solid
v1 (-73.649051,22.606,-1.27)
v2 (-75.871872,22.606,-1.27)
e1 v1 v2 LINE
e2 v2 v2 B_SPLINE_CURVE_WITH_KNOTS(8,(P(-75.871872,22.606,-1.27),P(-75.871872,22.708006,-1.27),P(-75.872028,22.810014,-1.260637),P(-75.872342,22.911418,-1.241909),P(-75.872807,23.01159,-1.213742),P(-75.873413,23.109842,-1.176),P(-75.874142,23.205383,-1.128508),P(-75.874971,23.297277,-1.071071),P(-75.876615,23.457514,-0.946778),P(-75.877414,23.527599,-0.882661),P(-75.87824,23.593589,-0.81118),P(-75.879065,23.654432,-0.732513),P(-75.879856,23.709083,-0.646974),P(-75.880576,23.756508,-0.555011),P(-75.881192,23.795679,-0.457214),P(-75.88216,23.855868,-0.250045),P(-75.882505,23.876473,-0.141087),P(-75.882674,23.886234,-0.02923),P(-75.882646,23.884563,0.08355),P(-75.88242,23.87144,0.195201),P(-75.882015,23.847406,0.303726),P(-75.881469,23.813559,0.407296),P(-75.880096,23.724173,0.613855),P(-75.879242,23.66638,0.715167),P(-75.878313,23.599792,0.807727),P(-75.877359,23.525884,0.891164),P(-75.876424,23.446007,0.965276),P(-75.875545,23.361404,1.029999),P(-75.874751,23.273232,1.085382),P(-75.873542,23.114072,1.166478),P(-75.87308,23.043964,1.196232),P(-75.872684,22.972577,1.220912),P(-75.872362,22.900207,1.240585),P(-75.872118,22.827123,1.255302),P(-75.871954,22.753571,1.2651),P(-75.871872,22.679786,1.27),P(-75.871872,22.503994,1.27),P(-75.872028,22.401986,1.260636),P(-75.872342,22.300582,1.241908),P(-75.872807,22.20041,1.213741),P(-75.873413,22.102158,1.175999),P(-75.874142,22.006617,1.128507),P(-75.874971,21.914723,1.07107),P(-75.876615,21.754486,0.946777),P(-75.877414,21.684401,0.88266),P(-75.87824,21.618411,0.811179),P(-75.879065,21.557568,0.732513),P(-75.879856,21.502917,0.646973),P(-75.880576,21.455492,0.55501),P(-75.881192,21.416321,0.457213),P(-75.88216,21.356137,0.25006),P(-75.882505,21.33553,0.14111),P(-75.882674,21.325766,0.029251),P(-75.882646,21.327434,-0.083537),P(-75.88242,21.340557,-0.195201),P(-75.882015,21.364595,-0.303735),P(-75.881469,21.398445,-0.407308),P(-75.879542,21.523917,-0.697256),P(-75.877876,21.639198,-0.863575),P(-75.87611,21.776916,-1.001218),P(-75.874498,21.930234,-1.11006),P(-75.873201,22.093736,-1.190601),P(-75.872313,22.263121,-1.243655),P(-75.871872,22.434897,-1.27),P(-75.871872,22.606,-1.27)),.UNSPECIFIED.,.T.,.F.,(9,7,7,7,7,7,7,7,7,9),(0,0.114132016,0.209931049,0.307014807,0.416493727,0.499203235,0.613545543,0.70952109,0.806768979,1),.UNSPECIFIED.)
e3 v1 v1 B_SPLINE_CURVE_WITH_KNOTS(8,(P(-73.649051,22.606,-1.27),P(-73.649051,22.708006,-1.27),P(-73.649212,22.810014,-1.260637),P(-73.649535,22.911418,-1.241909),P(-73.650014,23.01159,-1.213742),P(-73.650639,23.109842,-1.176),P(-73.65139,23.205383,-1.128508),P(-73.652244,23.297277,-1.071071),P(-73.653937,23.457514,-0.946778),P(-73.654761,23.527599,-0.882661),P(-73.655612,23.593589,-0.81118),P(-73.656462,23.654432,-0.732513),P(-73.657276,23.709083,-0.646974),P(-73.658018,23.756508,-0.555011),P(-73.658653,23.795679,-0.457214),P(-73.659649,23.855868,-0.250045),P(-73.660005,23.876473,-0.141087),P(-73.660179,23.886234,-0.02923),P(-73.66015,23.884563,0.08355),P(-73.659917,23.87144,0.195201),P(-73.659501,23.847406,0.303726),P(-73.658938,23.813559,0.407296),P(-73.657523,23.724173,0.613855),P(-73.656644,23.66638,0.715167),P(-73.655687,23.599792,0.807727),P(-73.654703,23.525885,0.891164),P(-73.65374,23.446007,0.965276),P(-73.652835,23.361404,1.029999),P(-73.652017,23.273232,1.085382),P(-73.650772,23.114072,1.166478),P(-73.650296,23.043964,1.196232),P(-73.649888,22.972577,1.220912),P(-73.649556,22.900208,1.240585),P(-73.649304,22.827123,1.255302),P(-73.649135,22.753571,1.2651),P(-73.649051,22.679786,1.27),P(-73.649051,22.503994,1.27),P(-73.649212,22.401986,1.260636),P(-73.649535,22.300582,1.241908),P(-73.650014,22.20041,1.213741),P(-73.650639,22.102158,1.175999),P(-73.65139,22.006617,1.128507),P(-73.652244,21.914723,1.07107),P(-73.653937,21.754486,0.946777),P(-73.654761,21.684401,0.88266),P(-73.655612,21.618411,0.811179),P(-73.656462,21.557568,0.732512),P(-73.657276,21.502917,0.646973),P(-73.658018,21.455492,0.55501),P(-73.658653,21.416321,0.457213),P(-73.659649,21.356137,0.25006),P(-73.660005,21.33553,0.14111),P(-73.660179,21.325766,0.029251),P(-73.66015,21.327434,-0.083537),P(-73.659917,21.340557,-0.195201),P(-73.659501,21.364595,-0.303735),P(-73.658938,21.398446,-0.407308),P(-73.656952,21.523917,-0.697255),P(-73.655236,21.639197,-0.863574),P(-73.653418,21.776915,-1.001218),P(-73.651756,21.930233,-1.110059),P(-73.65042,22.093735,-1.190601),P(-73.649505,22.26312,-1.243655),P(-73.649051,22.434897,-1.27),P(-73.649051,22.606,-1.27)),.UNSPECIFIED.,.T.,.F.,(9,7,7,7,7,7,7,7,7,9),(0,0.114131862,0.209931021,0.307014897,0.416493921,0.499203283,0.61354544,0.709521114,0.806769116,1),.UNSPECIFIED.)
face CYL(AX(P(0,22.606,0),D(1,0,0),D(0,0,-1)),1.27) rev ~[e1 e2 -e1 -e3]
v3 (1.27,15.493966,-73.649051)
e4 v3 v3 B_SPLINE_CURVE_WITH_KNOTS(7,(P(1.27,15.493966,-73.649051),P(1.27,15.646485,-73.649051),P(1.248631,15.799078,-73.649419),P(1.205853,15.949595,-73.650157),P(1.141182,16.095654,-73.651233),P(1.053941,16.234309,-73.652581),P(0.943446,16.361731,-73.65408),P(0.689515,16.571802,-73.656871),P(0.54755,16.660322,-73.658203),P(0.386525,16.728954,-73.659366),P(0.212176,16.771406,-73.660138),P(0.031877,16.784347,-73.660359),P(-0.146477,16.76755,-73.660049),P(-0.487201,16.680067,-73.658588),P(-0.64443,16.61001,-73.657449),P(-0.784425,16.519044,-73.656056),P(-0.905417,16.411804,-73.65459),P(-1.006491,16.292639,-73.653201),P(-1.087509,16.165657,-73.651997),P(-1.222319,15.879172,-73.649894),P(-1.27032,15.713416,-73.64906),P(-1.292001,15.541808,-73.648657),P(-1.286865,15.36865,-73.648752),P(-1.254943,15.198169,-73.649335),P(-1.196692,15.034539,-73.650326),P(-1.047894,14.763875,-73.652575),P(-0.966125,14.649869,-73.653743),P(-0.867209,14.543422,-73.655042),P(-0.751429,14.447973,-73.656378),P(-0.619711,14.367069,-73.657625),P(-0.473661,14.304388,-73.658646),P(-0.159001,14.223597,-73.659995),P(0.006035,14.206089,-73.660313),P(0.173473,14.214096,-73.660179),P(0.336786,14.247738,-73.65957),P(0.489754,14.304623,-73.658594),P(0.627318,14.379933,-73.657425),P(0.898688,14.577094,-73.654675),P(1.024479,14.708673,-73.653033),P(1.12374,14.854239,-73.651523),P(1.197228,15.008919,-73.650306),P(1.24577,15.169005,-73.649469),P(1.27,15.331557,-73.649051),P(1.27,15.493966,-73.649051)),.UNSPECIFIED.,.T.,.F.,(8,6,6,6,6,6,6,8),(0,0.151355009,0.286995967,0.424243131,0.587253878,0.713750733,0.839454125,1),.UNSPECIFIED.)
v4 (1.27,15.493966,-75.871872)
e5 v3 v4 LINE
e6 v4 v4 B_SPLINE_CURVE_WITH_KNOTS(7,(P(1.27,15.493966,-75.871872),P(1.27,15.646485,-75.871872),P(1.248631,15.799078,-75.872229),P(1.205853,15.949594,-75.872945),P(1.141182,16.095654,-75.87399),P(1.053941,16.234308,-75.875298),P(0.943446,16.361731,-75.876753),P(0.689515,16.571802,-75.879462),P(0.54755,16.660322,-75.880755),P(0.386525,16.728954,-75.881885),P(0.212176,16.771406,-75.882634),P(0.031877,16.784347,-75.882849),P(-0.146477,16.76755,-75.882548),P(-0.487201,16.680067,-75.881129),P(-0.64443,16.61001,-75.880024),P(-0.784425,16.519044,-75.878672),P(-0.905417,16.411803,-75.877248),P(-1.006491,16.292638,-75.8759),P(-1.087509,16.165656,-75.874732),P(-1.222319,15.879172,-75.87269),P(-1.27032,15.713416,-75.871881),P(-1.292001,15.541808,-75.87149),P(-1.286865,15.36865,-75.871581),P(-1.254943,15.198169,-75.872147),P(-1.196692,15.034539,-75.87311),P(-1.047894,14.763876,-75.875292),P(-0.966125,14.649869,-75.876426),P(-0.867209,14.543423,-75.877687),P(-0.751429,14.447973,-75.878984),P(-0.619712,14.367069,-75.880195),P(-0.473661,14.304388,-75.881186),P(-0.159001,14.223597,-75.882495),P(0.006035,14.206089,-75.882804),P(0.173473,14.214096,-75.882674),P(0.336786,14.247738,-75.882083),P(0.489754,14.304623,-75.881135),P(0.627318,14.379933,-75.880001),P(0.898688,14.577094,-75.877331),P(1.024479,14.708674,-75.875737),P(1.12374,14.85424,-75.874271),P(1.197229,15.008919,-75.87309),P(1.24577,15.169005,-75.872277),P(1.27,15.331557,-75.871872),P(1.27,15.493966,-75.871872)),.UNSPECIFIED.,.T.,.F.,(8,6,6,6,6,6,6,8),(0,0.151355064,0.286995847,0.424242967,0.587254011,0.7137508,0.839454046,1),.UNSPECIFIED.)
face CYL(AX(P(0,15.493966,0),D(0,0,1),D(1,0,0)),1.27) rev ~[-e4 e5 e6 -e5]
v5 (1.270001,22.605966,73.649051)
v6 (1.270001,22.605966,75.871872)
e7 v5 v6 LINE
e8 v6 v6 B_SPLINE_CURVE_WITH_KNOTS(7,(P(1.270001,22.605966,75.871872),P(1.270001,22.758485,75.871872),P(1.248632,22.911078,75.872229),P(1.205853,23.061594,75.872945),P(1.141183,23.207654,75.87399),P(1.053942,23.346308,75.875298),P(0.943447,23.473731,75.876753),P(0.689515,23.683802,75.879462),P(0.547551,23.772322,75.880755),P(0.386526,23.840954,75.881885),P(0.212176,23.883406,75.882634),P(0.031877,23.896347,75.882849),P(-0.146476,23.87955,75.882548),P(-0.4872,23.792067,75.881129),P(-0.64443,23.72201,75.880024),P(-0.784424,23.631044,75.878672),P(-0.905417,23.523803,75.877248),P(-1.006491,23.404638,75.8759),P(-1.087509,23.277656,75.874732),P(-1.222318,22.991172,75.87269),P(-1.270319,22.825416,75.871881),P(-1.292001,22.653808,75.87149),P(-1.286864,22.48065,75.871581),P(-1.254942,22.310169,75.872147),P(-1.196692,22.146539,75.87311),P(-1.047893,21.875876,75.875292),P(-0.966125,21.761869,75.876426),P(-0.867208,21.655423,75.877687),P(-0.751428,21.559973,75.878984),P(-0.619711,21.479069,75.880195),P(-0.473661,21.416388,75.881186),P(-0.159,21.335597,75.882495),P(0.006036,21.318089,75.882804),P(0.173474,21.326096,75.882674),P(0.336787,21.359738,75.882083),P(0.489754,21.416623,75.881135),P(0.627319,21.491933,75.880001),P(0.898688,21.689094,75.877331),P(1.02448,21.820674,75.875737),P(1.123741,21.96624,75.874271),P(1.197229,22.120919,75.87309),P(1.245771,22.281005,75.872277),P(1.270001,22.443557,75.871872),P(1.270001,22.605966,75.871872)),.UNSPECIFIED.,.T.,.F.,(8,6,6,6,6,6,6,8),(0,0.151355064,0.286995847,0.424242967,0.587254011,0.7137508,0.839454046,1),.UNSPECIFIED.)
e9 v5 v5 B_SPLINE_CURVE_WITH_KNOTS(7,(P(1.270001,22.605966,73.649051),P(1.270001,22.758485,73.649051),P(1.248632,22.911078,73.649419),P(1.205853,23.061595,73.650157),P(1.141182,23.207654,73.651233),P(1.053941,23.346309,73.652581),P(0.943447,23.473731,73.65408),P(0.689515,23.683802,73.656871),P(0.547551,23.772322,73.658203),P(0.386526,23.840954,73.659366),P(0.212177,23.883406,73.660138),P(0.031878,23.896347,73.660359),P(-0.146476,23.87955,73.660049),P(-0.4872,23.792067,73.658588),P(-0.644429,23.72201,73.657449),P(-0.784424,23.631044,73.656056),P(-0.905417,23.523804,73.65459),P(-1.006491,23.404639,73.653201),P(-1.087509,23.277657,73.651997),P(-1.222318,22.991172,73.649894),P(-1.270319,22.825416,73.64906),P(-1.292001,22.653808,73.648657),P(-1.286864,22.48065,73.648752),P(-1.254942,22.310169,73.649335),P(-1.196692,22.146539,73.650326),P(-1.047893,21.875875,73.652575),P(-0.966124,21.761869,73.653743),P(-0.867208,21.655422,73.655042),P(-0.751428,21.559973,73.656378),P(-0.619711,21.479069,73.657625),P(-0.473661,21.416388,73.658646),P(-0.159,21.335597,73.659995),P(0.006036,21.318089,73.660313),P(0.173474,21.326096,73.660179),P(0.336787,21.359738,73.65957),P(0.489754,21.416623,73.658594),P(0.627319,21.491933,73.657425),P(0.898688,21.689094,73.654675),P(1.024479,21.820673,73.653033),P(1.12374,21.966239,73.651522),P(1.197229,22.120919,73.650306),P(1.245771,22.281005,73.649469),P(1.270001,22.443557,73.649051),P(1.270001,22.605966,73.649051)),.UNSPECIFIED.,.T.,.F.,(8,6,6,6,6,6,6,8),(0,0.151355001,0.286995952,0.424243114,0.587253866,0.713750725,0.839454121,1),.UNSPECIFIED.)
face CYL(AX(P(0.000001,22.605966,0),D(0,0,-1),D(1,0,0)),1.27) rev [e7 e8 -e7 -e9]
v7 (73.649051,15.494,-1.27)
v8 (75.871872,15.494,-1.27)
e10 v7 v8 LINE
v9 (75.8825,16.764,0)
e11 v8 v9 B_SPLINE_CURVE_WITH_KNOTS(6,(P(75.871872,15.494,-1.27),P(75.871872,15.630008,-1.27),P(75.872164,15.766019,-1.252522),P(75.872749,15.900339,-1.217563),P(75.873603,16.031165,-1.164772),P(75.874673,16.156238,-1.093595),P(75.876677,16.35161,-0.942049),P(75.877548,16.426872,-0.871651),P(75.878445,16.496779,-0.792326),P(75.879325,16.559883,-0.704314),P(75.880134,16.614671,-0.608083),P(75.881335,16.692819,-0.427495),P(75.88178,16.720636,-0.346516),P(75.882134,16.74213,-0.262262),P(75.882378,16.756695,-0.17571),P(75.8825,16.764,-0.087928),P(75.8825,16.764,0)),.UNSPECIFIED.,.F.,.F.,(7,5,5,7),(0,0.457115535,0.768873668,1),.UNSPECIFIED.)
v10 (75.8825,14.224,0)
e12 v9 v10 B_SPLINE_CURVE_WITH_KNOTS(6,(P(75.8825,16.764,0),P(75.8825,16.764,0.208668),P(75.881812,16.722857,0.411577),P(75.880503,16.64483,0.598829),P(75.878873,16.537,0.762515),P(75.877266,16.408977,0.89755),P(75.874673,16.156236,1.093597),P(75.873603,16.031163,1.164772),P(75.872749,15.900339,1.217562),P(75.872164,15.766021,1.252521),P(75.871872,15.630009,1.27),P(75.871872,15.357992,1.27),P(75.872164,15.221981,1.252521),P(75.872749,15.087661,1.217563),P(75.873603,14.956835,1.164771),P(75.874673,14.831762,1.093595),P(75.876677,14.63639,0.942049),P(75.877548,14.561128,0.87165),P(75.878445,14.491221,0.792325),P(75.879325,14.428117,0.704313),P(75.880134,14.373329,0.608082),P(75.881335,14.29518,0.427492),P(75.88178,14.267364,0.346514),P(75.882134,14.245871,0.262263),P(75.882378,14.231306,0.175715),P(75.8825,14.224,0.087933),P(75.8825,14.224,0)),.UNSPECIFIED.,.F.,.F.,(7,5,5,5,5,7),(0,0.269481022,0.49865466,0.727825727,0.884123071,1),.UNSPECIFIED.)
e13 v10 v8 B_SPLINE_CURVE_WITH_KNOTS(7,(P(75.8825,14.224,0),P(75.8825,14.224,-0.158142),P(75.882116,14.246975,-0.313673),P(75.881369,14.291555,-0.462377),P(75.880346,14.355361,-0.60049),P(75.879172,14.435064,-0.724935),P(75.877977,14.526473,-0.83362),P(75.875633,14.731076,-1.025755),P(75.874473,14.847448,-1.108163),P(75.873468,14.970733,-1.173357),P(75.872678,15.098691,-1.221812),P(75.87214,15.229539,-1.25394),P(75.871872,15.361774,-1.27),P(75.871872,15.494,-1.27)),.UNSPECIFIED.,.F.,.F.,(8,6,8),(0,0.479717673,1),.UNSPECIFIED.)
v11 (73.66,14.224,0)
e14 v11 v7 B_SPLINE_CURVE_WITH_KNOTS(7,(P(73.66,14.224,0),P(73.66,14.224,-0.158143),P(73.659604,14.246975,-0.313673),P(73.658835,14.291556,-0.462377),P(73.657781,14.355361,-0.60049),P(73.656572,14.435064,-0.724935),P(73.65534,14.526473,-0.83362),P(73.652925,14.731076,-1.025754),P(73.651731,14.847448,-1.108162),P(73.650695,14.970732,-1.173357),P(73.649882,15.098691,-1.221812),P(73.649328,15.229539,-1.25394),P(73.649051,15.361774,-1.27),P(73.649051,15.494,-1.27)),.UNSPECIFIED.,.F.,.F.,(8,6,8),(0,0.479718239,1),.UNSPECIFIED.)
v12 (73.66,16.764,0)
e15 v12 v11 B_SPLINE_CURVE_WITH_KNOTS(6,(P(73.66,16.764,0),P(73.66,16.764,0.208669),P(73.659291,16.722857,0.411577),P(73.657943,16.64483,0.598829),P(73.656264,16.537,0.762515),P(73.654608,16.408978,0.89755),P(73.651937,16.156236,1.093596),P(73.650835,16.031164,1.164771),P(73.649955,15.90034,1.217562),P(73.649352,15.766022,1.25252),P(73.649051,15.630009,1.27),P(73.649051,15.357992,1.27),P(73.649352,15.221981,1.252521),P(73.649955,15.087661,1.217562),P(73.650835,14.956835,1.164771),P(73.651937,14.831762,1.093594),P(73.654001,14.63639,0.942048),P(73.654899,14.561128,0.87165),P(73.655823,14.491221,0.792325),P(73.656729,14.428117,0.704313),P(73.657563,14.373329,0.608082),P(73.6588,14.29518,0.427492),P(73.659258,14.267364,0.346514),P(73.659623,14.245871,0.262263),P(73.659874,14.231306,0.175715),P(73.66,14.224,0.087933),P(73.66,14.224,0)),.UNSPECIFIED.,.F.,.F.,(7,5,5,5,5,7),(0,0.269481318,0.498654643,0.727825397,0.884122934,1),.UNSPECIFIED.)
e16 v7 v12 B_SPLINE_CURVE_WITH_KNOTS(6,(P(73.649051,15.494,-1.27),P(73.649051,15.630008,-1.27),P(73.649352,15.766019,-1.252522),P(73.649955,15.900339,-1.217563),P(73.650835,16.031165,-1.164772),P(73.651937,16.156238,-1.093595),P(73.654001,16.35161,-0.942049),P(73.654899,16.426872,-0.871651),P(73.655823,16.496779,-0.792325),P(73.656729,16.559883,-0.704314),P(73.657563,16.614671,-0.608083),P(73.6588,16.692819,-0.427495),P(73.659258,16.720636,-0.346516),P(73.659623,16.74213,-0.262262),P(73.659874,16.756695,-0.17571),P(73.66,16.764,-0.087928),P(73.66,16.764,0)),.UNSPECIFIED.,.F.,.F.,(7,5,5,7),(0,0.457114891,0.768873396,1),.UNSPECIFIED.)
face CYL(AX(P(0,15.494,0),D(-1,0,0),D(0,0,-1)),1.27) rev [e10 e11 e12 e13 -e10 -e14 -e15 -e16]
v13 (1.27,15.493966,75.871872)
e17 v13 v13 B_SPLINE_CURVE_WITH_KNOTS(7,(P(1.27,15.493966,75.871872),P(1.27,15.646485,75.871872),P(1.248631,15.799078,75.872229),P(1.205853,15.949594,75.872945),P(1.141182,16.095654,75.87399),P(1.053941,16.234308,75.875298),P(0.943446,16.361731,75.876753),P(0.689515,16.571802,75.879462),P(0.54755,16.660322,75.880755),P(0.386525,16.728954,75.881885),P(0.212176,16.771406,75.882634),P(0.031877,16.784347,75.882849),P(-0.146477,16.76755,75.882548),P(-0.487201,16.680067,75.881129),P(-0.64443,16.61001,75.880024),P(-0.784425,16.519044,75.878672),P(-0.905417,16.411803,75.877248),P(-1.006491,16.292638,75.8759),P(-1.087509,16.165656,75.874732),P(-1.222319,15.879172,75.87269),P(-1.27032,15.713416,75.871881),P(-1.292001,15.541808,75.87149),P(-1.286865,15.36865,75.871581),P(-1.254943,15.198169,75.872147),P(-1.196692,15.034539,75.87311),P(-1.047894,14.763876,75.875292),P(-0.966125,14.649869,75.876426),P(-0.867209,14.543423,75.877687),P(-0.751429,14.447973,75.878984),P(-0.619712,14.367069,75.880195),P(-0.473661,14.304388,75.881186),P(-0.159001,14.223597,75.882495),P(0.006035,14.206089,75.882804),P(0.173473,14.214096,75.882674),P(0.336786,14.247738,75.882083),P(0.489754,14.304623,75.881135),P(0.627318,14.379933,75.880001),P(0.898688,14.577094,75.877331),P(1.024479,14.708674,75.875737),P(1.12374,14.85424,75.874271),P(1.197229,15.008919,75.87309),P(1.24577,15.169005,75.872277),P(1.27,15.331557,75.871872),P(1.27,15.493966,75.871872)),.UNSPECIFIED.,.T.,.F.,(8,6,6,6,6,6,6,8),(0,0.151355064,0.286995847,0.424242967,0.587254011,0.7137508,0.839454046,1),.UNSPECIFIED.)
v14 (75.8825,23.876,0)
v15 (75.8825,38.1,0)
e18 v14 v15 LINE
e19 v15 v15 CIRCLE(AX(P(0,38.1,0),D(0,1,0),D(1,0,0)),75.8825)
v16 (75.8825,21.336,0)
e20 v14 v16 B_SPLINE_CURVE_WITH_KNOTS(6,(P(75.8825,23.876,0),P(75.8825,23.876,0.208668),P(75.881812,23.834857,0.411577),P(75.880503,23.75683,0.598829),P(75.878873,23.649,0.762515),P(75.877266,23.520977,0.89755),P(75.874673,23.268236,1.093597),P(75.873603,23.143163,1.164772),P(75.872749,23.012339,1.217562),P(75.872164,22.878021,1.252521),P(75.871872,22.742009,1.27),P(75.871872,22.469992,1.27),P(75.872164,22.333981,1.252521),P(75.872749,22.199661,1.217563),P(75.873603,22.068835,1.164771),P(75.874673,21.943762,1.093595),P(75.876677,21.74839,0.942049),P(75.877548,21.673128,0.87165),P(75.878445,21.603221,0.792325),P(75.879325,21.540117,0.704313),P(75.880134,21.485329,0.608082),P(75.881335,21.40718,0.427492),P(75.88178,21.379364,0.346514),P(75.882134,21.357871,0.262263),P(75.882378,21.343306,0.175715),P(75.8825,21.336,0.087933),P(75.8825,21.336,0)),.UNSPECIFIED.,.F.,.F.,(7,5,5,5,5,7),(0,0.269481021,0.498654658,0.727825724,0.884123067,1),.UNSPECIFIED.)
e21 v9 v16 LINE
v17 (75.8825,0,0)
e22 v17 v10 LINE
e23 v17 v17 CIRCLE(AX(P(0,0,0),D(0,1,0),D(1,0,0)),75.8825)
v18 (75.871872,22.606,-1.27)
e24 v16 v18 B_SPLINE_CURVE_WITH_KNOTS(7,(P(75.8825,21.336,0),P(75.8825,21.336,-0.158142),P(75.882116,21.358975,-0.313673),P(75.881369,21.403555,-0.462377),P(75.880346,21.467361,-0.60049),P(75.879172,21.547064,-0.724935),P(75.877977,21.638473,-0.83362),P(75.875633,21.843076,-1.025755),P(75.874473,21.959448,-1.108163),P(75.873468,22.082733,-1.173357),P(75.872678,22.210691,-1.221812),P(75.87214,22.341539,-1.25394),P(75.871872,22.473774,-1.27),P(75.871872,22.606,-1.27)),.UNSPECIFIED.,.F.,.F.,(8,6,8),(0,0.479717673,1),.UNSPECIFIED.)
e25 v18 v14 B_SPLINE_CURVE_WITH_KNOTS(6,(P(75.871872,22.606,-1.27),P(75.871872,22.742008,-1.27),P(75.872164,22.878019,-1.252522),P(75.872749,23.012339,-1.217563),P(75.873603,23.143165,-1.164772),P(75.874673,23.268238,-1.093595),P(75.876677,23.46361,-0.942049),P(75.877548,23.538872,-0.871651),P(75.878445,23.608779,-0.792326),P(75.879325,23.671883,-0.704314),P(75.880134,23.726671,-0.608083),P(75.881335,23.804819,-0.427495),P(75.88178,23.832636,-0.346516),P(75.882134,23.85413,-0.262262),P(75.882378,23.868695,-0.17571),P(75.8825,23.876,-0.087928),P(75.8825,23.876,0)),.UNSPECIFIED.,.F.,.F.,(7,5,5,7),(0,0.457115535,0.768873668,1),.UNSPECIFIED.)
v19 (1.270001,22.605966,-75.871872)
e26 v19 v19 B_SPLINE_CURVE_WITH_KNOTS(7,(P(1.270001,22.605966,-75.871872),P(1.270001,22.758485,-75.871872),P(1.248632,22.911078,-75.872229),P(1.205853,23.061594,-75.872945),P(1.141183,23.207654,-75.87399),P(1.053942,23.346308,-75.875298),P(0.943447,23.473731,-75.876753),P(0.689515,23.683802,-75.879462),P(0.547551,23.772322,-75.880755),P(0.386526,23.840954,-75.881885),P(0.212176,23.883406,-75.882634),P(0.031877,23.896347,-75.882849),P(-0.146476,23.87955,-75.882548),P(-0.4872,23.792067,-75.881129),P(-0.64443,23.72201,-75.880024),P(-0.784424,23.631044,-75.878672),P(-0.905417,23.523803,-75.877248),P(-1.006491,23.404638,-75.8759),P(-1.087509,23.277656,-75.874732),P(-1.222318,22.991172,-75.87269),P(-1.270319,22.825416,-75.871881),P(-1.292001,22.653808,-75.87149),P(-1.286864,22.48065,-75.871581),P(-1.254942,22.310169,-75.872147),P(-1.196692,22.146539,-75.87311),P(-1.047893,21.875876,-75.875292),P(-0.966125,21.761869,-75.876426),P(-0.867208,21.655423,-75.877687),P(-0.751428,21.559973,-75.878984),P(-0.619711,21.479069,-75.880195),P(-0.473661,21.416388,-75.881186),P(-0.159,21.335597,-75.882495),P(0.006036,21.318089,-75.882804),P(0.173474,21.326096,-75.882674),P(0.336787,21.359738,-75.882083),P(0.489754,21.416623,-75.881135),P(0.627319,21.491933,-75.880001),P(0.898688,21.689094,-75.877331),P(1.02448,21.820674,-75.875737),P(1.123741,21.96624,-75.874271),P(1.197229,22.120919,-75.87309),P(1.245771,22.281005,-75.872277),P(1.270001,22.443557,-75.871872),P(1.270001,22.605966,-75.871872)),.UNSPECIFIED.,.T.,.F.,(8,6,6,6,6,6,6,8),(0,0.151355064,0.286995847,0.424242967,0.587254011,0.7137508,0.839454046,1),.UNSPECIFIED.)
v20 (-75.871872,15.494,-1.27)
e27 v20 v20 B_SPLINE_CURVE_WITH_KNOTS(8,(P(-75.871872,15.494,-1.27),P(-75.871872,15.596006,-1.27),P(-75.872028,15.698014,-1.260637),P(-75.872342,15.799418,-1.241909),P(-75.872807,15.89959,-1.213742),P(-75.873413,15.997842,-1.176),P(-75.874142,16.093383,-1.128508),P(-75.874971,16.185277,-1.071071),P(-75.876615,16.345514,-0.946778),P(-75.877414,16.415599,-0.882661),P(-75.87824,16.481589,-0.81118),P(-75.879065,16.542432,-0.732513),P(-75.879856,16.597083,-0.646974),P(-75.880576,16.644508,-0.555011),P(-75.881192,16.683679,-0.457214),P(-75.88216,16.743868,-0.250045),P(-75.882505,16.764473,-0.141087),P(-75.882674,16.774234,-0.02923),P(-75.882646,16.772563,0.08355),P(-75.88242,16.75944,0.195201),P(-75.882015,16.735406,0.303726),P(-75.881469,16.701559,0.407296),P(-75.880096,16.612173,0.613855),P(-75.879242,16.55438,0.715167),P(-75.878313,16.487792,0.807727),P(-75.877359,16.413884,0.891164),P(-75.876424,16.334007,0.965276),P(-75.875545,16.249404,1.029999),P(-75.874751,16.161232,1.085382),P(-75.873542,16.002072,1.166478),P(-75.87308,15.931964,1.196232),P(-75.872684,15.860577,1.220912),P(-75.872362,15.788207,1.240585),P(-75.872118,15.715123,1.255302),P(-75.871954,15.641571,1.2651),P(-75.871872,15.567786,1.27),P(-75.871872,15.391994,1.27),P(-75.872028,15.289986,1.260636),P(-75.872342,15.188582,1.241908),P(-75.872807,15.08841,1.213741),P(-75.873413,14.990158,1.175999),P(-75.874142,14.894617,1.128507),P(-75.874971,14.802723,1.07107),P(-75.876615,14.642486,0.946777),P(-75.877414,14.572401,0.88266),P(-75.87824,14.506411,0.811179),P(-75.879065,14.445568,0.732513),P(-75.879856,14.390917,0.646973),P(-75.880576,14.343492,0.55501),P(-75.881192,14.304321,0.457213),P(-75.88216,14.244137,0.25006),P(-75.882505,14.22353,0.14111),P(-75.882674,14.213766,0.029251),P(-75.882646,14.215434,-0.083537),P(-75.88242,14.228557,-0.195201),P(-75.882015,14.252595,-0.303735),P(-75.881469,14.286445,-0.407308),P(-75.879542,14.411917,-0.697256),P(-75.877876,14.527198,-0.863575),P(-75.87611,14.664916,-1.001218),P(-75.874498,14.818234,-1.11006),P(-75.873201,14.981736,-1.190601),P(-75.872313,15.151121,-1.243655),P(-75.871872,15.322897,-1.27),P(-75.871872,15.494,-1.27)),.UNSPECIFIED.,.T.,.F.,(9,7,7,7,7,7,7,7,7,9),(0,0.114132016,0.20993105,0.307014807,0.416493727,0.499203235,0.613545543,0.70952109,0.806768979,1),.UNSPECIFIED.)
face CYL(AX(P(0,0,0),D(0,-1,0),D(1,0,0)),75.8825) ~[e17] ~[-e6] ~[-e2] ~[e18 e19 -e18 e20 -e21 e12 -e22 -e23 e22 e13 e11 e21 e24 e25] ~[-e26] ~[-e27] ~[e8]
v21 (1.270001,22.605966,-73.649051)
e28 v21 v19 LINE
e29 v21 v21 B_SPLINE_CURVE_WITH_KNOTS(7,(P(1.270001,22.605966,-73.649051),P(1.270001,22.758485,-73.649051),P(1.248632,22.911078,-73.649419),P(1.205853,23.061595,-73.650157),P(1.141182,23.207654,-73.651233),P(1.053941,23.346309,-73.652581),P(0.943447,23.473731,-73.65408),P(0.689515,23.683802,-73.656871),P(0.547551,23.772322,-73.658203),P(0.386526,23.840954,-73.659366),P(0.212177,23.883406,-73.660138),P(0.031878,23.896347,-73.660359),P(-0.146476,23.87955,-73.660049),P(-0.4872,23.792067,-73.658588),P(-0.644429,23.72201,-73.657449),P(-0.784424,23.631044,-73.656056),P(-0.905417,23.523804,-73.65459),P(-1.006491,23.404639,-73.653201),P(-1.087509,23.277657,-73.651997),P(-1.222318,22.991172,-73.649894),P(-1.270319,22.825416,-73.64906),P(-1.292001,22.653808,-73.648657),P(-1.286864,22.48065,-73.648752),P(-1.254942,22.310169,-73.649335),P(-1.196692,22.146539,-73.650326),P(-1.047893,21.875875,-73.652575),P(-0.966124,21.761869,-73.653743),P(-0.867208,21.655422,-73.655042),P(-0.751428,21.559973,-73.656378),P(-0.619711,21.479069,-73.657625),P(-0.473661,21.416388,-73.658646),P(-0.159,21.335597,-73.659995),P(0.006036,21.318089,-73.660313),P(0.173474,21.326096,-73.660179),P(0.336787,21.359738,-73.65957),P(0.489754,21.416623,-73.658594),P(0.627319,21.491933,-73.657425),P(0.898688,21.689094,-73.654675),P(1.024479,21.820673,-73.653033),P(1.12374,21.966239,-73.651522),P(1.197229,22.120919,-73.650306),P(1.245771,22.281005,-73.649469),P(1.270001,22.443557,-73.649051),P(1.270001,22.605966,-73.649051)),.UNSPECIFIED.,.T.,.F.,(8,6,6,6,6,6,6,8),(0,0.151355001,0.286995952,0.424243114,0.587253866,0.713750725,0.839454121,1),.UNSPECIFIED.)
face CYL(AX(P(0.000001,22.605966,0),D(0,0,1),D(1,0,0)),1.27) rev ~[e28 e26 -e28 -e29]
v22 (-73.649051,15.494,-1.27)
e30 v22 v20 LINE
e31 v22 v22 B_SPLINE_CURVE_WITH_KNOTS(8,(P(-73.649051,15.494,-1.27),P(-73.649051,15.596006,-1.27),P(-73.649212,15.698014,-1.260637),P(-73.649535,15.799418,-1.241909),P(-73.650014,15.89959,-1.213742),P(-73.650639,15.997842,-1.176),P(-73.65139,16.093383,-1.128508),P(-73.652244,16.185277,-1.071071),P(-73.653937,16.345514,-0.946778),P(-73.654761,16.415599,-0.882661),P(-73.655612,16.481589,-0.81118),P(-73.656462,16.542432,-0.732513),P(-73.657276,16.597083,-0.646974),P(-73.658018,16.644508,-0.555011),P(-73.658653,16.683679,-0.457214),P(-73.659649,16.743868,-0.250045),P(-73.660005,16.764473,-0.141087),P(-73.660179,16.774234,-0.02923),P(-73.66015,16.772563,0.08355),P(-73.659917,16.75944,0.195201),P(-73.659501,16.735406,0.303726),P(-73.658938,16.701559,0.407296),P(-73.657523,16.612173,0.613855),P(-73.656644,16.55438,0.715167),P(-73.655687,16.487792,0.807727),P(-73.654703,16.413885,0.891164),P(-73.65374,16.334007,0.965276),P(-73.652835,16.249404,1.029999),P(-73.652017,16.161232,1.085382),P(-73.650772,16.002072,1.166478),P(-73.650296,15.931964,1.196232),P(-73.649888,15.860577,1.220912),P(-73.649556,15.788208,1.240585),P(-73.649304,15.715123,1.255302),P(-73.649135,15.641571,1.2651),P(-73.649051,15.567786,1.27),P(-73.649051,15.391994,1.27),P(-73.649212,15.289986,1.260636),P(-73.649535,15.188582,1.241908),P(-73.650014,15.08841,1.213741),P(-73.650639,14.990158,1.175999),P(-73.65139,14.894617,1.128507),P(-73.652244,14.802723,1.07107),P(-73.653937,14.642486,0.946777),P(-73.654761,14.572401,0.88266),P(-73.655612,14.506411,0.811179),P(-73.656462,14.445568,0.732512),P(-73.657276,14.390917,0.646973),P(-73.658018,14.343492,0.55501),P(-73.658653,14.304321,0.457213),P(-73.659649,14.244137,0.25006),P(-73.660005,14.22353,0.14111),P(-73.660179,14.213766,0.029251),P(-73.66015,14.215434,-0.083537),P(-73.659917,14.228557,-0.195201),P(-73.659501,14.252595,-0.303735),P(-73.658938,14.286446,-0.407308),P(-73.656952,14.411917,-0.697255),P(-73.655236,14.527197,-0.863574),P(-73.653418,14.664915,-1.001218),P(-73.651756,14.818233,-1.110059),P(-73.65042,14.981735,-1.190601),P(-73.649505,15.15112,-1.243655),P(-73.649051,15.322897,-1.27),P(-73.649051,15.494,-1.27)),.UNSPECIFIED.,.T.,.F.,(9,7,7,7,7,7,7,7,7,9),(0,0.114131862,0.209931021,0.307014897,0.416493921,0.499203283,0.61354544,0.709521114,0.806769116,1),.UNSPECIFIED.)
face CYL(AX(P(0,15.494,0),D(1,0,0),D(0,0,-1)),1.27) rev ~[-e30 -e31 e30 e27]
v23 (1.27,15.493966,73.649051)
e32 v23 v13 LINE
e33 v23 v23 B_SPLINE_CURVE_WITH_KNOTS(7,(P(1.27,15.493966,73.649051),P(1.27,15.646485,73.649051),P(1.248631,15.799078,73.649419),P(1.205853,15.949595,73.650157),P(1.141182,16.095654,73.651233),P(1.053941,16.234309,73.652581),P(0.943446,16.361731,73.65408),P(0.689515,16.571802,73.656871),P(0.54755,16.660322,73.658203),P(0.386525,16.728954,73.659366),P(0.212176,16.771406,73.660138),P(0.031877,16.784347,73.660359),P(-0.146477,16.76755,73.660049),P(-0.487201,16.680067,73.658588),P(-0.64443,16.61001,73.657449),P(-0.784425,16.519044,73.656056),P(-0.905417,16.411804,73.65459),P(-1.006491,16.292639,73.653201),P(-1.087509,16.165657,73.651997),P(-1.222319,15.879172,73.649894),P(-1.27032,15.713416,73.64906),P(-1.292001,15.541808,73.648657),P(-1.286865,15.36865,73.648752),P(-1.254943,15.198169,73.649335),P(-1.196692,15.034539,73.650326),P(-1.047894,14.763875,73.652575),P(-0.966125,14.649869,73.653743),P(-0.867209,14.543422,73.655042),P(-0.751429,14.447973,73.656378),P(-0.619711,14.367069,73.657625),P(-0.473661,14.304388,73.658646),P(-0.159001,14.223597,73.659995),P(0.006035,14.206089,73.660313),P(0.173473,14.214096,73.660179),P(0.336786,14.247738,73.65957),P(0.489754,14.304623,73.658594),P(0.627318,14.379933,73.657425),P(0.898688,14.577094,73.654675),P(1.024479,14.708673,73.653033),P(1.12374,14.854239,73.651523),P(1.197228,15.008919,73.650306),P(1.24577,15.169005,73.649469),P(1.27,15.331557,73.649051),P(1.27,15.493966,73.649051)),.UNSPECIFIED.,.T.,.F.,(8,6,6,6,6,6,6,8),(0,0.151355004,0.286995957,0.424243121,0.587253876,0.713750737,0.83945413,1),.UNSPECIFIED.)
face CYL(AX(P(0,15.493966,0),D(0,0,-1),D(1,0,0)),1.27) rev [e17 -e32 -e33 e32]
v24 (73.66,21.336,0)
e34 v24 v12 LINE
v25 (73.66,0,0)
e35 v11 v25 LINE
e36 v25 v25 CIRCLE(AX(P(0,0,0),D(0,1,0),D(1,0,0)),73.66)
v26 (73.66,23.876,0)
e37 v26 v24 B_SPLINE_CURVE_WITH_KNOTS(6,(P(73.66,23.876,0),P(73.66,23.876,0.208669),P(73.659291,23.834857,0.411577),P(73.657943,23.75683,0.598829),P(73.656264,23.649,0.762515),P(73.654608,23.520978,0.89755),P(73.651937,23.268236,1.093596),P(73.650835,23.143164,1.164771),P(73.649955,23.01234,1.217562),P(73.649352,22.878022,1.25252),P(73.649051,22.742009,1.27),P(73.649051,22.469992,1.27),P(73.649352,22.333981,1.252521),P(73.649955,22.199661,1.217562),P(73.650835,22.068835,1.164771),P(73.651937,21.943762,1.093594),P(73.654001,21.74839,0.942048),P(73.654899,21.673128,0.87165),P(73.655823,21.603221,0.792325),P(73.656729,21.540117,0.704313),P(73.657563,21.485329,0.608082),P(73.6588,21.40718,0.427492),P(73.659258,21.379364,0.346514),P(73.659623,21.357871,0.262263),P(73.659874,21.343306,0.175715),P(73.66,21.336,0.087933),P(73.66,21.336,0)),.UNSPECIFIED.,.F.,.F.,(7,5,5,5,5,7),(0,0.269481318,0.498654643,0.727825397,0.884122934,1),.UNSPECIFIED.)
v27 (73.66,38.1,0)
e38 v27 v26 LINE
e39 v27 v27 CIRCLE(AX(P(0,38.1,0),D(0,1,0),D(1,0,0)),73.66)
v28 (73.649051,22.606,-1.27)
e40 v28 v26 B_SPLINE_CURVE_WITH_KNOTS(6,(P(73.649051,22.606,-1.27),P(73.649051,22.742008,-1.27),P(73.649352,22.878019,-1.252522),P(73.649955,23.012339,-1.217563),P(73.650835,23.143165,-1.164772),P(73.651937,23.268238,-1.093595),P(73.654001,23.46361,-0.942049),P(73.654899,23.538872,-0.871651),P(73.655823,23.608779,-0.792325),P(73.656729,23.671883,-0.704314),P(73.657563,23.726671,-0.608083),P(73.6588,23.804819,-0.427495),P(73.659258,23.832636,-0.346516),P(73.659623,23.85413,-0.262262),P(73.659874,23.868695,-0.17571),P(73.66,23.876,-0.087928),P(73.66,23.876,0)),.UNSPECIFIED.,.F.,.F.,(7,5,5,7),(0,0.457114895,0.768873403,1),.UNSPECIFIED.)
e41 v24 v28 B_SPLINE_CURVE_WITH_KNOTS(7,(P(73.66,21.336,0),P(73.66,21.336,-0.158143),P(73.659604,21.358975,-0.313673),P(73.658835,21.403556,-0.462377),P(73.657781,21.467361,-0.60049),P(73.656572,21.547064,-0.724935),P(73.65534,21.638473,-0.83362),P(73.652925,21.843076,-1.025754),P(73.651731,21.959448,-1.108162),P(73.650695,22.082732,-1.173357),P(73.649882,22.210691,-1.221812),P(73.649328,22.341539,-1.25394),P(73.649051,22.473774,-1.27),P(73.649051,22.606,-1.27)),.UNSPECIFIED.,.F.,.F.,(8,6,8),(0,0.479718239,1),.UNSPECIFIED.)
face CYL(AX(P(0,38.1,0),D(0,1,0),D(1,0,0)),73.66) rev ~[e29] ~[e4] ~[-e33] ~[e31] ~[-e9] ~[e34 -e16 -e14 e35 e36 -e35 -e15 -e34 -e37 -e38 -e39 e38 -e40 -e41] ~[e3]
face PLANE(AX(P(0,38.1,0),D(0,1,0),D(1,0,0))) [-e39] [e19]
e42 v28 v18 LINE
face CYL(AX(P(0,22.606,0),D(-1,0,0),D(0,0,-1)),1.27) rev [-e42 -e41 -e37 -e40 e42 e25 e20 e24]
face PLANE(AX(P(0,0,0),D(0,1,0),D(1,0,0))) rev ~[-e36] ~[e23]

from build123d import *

# Parameters (mm, degrees)
SKETCH1_R               = 75.8825
BOSS_EXTRUDE1_DEPTH     = 38.1
SKETCH2_R               = 73.66
CUT_EXTRUDE1_DEPTH      = 101.6
SKETCH4_R               = 1.27
CUT_EXTRUDE3_DEPTH      = 76.8825
CUT_EXTRUDE3_DEPTH_BACK = 76.8825
SKETCH5_R               = 1.27
CUT_EXTRUDE4_DEPTH      = 76.8825001
CUT_EXTRUDE4_DEPTH_BACK = 76.8825001


with BuildPart() as part:
    # Sketch1 → Boss-Extrude1 (new body)
    with BuildSketch(Plane(origin=(0, 0, 0), x_dir=(1, 0, 0), z_dir=(0, 1, 0))):
        Circle(SKETCH1_R)
    extrude(amount=BOSS_EXTRUDE1_DEPTH)

    # Sketch2 → Cut-Extrude1 (cut)
    with BuildSketch(Plane(origin=(0, 38.1, 0), x_dir=(1, 0, 0), z_dir=(0, 1, 0))):
        Circle(SKETCH2_R)
    extrude(amount=-CUT_EXTRUDE1_DEPTH, mode=Mode.SUBTRACT)

    # Sketch4 → Cut-Extrude3 (cut, two sides)
    with BuildSketch(Plane(origin=(0, 0, 0), x_dir=(0, 0, -1), z_dir=(1, 0, 0))) as cut_extrude3_sk:
        with Locations((4.12e-07, 22.606)):
            Circle(SKETCH4_R)
        with Locations((4.12e-07, 15.494)):
            Circle(SKETCH4_R)
    extrude(amount=CUT_EXTRUDE3_DEPTH, mode=Mode.SUBTRACT)
    extrude(cut_extrude3_sk.sketch, amount=-CUT_EXTRUDE3_DEPTH_BACK, mode=Mode.SUBTRACT)

    # Sketch5 → Cut-Extrude4 (cut, two sides)
    with BuildSketch(Plane.XY) as cut_extrude4_sk:
        with Locations((7.8e-08, 15.493965738)):
            Circle(SKETCH5_R)
        with Locations((6.87e-07, 22.605965738)):
            Circle(SKETCH5_R)
    extrude(amount=CUT_EXTRUDE4_DEPTH, mode=Mode.SUBTRACT)
    extrude(cut_extrude4_sk.sketch, amount=-CUT_EXTRUDE4_DEPTH_BACK, mode=Mode.SUBTRACT)


solid = part.part
